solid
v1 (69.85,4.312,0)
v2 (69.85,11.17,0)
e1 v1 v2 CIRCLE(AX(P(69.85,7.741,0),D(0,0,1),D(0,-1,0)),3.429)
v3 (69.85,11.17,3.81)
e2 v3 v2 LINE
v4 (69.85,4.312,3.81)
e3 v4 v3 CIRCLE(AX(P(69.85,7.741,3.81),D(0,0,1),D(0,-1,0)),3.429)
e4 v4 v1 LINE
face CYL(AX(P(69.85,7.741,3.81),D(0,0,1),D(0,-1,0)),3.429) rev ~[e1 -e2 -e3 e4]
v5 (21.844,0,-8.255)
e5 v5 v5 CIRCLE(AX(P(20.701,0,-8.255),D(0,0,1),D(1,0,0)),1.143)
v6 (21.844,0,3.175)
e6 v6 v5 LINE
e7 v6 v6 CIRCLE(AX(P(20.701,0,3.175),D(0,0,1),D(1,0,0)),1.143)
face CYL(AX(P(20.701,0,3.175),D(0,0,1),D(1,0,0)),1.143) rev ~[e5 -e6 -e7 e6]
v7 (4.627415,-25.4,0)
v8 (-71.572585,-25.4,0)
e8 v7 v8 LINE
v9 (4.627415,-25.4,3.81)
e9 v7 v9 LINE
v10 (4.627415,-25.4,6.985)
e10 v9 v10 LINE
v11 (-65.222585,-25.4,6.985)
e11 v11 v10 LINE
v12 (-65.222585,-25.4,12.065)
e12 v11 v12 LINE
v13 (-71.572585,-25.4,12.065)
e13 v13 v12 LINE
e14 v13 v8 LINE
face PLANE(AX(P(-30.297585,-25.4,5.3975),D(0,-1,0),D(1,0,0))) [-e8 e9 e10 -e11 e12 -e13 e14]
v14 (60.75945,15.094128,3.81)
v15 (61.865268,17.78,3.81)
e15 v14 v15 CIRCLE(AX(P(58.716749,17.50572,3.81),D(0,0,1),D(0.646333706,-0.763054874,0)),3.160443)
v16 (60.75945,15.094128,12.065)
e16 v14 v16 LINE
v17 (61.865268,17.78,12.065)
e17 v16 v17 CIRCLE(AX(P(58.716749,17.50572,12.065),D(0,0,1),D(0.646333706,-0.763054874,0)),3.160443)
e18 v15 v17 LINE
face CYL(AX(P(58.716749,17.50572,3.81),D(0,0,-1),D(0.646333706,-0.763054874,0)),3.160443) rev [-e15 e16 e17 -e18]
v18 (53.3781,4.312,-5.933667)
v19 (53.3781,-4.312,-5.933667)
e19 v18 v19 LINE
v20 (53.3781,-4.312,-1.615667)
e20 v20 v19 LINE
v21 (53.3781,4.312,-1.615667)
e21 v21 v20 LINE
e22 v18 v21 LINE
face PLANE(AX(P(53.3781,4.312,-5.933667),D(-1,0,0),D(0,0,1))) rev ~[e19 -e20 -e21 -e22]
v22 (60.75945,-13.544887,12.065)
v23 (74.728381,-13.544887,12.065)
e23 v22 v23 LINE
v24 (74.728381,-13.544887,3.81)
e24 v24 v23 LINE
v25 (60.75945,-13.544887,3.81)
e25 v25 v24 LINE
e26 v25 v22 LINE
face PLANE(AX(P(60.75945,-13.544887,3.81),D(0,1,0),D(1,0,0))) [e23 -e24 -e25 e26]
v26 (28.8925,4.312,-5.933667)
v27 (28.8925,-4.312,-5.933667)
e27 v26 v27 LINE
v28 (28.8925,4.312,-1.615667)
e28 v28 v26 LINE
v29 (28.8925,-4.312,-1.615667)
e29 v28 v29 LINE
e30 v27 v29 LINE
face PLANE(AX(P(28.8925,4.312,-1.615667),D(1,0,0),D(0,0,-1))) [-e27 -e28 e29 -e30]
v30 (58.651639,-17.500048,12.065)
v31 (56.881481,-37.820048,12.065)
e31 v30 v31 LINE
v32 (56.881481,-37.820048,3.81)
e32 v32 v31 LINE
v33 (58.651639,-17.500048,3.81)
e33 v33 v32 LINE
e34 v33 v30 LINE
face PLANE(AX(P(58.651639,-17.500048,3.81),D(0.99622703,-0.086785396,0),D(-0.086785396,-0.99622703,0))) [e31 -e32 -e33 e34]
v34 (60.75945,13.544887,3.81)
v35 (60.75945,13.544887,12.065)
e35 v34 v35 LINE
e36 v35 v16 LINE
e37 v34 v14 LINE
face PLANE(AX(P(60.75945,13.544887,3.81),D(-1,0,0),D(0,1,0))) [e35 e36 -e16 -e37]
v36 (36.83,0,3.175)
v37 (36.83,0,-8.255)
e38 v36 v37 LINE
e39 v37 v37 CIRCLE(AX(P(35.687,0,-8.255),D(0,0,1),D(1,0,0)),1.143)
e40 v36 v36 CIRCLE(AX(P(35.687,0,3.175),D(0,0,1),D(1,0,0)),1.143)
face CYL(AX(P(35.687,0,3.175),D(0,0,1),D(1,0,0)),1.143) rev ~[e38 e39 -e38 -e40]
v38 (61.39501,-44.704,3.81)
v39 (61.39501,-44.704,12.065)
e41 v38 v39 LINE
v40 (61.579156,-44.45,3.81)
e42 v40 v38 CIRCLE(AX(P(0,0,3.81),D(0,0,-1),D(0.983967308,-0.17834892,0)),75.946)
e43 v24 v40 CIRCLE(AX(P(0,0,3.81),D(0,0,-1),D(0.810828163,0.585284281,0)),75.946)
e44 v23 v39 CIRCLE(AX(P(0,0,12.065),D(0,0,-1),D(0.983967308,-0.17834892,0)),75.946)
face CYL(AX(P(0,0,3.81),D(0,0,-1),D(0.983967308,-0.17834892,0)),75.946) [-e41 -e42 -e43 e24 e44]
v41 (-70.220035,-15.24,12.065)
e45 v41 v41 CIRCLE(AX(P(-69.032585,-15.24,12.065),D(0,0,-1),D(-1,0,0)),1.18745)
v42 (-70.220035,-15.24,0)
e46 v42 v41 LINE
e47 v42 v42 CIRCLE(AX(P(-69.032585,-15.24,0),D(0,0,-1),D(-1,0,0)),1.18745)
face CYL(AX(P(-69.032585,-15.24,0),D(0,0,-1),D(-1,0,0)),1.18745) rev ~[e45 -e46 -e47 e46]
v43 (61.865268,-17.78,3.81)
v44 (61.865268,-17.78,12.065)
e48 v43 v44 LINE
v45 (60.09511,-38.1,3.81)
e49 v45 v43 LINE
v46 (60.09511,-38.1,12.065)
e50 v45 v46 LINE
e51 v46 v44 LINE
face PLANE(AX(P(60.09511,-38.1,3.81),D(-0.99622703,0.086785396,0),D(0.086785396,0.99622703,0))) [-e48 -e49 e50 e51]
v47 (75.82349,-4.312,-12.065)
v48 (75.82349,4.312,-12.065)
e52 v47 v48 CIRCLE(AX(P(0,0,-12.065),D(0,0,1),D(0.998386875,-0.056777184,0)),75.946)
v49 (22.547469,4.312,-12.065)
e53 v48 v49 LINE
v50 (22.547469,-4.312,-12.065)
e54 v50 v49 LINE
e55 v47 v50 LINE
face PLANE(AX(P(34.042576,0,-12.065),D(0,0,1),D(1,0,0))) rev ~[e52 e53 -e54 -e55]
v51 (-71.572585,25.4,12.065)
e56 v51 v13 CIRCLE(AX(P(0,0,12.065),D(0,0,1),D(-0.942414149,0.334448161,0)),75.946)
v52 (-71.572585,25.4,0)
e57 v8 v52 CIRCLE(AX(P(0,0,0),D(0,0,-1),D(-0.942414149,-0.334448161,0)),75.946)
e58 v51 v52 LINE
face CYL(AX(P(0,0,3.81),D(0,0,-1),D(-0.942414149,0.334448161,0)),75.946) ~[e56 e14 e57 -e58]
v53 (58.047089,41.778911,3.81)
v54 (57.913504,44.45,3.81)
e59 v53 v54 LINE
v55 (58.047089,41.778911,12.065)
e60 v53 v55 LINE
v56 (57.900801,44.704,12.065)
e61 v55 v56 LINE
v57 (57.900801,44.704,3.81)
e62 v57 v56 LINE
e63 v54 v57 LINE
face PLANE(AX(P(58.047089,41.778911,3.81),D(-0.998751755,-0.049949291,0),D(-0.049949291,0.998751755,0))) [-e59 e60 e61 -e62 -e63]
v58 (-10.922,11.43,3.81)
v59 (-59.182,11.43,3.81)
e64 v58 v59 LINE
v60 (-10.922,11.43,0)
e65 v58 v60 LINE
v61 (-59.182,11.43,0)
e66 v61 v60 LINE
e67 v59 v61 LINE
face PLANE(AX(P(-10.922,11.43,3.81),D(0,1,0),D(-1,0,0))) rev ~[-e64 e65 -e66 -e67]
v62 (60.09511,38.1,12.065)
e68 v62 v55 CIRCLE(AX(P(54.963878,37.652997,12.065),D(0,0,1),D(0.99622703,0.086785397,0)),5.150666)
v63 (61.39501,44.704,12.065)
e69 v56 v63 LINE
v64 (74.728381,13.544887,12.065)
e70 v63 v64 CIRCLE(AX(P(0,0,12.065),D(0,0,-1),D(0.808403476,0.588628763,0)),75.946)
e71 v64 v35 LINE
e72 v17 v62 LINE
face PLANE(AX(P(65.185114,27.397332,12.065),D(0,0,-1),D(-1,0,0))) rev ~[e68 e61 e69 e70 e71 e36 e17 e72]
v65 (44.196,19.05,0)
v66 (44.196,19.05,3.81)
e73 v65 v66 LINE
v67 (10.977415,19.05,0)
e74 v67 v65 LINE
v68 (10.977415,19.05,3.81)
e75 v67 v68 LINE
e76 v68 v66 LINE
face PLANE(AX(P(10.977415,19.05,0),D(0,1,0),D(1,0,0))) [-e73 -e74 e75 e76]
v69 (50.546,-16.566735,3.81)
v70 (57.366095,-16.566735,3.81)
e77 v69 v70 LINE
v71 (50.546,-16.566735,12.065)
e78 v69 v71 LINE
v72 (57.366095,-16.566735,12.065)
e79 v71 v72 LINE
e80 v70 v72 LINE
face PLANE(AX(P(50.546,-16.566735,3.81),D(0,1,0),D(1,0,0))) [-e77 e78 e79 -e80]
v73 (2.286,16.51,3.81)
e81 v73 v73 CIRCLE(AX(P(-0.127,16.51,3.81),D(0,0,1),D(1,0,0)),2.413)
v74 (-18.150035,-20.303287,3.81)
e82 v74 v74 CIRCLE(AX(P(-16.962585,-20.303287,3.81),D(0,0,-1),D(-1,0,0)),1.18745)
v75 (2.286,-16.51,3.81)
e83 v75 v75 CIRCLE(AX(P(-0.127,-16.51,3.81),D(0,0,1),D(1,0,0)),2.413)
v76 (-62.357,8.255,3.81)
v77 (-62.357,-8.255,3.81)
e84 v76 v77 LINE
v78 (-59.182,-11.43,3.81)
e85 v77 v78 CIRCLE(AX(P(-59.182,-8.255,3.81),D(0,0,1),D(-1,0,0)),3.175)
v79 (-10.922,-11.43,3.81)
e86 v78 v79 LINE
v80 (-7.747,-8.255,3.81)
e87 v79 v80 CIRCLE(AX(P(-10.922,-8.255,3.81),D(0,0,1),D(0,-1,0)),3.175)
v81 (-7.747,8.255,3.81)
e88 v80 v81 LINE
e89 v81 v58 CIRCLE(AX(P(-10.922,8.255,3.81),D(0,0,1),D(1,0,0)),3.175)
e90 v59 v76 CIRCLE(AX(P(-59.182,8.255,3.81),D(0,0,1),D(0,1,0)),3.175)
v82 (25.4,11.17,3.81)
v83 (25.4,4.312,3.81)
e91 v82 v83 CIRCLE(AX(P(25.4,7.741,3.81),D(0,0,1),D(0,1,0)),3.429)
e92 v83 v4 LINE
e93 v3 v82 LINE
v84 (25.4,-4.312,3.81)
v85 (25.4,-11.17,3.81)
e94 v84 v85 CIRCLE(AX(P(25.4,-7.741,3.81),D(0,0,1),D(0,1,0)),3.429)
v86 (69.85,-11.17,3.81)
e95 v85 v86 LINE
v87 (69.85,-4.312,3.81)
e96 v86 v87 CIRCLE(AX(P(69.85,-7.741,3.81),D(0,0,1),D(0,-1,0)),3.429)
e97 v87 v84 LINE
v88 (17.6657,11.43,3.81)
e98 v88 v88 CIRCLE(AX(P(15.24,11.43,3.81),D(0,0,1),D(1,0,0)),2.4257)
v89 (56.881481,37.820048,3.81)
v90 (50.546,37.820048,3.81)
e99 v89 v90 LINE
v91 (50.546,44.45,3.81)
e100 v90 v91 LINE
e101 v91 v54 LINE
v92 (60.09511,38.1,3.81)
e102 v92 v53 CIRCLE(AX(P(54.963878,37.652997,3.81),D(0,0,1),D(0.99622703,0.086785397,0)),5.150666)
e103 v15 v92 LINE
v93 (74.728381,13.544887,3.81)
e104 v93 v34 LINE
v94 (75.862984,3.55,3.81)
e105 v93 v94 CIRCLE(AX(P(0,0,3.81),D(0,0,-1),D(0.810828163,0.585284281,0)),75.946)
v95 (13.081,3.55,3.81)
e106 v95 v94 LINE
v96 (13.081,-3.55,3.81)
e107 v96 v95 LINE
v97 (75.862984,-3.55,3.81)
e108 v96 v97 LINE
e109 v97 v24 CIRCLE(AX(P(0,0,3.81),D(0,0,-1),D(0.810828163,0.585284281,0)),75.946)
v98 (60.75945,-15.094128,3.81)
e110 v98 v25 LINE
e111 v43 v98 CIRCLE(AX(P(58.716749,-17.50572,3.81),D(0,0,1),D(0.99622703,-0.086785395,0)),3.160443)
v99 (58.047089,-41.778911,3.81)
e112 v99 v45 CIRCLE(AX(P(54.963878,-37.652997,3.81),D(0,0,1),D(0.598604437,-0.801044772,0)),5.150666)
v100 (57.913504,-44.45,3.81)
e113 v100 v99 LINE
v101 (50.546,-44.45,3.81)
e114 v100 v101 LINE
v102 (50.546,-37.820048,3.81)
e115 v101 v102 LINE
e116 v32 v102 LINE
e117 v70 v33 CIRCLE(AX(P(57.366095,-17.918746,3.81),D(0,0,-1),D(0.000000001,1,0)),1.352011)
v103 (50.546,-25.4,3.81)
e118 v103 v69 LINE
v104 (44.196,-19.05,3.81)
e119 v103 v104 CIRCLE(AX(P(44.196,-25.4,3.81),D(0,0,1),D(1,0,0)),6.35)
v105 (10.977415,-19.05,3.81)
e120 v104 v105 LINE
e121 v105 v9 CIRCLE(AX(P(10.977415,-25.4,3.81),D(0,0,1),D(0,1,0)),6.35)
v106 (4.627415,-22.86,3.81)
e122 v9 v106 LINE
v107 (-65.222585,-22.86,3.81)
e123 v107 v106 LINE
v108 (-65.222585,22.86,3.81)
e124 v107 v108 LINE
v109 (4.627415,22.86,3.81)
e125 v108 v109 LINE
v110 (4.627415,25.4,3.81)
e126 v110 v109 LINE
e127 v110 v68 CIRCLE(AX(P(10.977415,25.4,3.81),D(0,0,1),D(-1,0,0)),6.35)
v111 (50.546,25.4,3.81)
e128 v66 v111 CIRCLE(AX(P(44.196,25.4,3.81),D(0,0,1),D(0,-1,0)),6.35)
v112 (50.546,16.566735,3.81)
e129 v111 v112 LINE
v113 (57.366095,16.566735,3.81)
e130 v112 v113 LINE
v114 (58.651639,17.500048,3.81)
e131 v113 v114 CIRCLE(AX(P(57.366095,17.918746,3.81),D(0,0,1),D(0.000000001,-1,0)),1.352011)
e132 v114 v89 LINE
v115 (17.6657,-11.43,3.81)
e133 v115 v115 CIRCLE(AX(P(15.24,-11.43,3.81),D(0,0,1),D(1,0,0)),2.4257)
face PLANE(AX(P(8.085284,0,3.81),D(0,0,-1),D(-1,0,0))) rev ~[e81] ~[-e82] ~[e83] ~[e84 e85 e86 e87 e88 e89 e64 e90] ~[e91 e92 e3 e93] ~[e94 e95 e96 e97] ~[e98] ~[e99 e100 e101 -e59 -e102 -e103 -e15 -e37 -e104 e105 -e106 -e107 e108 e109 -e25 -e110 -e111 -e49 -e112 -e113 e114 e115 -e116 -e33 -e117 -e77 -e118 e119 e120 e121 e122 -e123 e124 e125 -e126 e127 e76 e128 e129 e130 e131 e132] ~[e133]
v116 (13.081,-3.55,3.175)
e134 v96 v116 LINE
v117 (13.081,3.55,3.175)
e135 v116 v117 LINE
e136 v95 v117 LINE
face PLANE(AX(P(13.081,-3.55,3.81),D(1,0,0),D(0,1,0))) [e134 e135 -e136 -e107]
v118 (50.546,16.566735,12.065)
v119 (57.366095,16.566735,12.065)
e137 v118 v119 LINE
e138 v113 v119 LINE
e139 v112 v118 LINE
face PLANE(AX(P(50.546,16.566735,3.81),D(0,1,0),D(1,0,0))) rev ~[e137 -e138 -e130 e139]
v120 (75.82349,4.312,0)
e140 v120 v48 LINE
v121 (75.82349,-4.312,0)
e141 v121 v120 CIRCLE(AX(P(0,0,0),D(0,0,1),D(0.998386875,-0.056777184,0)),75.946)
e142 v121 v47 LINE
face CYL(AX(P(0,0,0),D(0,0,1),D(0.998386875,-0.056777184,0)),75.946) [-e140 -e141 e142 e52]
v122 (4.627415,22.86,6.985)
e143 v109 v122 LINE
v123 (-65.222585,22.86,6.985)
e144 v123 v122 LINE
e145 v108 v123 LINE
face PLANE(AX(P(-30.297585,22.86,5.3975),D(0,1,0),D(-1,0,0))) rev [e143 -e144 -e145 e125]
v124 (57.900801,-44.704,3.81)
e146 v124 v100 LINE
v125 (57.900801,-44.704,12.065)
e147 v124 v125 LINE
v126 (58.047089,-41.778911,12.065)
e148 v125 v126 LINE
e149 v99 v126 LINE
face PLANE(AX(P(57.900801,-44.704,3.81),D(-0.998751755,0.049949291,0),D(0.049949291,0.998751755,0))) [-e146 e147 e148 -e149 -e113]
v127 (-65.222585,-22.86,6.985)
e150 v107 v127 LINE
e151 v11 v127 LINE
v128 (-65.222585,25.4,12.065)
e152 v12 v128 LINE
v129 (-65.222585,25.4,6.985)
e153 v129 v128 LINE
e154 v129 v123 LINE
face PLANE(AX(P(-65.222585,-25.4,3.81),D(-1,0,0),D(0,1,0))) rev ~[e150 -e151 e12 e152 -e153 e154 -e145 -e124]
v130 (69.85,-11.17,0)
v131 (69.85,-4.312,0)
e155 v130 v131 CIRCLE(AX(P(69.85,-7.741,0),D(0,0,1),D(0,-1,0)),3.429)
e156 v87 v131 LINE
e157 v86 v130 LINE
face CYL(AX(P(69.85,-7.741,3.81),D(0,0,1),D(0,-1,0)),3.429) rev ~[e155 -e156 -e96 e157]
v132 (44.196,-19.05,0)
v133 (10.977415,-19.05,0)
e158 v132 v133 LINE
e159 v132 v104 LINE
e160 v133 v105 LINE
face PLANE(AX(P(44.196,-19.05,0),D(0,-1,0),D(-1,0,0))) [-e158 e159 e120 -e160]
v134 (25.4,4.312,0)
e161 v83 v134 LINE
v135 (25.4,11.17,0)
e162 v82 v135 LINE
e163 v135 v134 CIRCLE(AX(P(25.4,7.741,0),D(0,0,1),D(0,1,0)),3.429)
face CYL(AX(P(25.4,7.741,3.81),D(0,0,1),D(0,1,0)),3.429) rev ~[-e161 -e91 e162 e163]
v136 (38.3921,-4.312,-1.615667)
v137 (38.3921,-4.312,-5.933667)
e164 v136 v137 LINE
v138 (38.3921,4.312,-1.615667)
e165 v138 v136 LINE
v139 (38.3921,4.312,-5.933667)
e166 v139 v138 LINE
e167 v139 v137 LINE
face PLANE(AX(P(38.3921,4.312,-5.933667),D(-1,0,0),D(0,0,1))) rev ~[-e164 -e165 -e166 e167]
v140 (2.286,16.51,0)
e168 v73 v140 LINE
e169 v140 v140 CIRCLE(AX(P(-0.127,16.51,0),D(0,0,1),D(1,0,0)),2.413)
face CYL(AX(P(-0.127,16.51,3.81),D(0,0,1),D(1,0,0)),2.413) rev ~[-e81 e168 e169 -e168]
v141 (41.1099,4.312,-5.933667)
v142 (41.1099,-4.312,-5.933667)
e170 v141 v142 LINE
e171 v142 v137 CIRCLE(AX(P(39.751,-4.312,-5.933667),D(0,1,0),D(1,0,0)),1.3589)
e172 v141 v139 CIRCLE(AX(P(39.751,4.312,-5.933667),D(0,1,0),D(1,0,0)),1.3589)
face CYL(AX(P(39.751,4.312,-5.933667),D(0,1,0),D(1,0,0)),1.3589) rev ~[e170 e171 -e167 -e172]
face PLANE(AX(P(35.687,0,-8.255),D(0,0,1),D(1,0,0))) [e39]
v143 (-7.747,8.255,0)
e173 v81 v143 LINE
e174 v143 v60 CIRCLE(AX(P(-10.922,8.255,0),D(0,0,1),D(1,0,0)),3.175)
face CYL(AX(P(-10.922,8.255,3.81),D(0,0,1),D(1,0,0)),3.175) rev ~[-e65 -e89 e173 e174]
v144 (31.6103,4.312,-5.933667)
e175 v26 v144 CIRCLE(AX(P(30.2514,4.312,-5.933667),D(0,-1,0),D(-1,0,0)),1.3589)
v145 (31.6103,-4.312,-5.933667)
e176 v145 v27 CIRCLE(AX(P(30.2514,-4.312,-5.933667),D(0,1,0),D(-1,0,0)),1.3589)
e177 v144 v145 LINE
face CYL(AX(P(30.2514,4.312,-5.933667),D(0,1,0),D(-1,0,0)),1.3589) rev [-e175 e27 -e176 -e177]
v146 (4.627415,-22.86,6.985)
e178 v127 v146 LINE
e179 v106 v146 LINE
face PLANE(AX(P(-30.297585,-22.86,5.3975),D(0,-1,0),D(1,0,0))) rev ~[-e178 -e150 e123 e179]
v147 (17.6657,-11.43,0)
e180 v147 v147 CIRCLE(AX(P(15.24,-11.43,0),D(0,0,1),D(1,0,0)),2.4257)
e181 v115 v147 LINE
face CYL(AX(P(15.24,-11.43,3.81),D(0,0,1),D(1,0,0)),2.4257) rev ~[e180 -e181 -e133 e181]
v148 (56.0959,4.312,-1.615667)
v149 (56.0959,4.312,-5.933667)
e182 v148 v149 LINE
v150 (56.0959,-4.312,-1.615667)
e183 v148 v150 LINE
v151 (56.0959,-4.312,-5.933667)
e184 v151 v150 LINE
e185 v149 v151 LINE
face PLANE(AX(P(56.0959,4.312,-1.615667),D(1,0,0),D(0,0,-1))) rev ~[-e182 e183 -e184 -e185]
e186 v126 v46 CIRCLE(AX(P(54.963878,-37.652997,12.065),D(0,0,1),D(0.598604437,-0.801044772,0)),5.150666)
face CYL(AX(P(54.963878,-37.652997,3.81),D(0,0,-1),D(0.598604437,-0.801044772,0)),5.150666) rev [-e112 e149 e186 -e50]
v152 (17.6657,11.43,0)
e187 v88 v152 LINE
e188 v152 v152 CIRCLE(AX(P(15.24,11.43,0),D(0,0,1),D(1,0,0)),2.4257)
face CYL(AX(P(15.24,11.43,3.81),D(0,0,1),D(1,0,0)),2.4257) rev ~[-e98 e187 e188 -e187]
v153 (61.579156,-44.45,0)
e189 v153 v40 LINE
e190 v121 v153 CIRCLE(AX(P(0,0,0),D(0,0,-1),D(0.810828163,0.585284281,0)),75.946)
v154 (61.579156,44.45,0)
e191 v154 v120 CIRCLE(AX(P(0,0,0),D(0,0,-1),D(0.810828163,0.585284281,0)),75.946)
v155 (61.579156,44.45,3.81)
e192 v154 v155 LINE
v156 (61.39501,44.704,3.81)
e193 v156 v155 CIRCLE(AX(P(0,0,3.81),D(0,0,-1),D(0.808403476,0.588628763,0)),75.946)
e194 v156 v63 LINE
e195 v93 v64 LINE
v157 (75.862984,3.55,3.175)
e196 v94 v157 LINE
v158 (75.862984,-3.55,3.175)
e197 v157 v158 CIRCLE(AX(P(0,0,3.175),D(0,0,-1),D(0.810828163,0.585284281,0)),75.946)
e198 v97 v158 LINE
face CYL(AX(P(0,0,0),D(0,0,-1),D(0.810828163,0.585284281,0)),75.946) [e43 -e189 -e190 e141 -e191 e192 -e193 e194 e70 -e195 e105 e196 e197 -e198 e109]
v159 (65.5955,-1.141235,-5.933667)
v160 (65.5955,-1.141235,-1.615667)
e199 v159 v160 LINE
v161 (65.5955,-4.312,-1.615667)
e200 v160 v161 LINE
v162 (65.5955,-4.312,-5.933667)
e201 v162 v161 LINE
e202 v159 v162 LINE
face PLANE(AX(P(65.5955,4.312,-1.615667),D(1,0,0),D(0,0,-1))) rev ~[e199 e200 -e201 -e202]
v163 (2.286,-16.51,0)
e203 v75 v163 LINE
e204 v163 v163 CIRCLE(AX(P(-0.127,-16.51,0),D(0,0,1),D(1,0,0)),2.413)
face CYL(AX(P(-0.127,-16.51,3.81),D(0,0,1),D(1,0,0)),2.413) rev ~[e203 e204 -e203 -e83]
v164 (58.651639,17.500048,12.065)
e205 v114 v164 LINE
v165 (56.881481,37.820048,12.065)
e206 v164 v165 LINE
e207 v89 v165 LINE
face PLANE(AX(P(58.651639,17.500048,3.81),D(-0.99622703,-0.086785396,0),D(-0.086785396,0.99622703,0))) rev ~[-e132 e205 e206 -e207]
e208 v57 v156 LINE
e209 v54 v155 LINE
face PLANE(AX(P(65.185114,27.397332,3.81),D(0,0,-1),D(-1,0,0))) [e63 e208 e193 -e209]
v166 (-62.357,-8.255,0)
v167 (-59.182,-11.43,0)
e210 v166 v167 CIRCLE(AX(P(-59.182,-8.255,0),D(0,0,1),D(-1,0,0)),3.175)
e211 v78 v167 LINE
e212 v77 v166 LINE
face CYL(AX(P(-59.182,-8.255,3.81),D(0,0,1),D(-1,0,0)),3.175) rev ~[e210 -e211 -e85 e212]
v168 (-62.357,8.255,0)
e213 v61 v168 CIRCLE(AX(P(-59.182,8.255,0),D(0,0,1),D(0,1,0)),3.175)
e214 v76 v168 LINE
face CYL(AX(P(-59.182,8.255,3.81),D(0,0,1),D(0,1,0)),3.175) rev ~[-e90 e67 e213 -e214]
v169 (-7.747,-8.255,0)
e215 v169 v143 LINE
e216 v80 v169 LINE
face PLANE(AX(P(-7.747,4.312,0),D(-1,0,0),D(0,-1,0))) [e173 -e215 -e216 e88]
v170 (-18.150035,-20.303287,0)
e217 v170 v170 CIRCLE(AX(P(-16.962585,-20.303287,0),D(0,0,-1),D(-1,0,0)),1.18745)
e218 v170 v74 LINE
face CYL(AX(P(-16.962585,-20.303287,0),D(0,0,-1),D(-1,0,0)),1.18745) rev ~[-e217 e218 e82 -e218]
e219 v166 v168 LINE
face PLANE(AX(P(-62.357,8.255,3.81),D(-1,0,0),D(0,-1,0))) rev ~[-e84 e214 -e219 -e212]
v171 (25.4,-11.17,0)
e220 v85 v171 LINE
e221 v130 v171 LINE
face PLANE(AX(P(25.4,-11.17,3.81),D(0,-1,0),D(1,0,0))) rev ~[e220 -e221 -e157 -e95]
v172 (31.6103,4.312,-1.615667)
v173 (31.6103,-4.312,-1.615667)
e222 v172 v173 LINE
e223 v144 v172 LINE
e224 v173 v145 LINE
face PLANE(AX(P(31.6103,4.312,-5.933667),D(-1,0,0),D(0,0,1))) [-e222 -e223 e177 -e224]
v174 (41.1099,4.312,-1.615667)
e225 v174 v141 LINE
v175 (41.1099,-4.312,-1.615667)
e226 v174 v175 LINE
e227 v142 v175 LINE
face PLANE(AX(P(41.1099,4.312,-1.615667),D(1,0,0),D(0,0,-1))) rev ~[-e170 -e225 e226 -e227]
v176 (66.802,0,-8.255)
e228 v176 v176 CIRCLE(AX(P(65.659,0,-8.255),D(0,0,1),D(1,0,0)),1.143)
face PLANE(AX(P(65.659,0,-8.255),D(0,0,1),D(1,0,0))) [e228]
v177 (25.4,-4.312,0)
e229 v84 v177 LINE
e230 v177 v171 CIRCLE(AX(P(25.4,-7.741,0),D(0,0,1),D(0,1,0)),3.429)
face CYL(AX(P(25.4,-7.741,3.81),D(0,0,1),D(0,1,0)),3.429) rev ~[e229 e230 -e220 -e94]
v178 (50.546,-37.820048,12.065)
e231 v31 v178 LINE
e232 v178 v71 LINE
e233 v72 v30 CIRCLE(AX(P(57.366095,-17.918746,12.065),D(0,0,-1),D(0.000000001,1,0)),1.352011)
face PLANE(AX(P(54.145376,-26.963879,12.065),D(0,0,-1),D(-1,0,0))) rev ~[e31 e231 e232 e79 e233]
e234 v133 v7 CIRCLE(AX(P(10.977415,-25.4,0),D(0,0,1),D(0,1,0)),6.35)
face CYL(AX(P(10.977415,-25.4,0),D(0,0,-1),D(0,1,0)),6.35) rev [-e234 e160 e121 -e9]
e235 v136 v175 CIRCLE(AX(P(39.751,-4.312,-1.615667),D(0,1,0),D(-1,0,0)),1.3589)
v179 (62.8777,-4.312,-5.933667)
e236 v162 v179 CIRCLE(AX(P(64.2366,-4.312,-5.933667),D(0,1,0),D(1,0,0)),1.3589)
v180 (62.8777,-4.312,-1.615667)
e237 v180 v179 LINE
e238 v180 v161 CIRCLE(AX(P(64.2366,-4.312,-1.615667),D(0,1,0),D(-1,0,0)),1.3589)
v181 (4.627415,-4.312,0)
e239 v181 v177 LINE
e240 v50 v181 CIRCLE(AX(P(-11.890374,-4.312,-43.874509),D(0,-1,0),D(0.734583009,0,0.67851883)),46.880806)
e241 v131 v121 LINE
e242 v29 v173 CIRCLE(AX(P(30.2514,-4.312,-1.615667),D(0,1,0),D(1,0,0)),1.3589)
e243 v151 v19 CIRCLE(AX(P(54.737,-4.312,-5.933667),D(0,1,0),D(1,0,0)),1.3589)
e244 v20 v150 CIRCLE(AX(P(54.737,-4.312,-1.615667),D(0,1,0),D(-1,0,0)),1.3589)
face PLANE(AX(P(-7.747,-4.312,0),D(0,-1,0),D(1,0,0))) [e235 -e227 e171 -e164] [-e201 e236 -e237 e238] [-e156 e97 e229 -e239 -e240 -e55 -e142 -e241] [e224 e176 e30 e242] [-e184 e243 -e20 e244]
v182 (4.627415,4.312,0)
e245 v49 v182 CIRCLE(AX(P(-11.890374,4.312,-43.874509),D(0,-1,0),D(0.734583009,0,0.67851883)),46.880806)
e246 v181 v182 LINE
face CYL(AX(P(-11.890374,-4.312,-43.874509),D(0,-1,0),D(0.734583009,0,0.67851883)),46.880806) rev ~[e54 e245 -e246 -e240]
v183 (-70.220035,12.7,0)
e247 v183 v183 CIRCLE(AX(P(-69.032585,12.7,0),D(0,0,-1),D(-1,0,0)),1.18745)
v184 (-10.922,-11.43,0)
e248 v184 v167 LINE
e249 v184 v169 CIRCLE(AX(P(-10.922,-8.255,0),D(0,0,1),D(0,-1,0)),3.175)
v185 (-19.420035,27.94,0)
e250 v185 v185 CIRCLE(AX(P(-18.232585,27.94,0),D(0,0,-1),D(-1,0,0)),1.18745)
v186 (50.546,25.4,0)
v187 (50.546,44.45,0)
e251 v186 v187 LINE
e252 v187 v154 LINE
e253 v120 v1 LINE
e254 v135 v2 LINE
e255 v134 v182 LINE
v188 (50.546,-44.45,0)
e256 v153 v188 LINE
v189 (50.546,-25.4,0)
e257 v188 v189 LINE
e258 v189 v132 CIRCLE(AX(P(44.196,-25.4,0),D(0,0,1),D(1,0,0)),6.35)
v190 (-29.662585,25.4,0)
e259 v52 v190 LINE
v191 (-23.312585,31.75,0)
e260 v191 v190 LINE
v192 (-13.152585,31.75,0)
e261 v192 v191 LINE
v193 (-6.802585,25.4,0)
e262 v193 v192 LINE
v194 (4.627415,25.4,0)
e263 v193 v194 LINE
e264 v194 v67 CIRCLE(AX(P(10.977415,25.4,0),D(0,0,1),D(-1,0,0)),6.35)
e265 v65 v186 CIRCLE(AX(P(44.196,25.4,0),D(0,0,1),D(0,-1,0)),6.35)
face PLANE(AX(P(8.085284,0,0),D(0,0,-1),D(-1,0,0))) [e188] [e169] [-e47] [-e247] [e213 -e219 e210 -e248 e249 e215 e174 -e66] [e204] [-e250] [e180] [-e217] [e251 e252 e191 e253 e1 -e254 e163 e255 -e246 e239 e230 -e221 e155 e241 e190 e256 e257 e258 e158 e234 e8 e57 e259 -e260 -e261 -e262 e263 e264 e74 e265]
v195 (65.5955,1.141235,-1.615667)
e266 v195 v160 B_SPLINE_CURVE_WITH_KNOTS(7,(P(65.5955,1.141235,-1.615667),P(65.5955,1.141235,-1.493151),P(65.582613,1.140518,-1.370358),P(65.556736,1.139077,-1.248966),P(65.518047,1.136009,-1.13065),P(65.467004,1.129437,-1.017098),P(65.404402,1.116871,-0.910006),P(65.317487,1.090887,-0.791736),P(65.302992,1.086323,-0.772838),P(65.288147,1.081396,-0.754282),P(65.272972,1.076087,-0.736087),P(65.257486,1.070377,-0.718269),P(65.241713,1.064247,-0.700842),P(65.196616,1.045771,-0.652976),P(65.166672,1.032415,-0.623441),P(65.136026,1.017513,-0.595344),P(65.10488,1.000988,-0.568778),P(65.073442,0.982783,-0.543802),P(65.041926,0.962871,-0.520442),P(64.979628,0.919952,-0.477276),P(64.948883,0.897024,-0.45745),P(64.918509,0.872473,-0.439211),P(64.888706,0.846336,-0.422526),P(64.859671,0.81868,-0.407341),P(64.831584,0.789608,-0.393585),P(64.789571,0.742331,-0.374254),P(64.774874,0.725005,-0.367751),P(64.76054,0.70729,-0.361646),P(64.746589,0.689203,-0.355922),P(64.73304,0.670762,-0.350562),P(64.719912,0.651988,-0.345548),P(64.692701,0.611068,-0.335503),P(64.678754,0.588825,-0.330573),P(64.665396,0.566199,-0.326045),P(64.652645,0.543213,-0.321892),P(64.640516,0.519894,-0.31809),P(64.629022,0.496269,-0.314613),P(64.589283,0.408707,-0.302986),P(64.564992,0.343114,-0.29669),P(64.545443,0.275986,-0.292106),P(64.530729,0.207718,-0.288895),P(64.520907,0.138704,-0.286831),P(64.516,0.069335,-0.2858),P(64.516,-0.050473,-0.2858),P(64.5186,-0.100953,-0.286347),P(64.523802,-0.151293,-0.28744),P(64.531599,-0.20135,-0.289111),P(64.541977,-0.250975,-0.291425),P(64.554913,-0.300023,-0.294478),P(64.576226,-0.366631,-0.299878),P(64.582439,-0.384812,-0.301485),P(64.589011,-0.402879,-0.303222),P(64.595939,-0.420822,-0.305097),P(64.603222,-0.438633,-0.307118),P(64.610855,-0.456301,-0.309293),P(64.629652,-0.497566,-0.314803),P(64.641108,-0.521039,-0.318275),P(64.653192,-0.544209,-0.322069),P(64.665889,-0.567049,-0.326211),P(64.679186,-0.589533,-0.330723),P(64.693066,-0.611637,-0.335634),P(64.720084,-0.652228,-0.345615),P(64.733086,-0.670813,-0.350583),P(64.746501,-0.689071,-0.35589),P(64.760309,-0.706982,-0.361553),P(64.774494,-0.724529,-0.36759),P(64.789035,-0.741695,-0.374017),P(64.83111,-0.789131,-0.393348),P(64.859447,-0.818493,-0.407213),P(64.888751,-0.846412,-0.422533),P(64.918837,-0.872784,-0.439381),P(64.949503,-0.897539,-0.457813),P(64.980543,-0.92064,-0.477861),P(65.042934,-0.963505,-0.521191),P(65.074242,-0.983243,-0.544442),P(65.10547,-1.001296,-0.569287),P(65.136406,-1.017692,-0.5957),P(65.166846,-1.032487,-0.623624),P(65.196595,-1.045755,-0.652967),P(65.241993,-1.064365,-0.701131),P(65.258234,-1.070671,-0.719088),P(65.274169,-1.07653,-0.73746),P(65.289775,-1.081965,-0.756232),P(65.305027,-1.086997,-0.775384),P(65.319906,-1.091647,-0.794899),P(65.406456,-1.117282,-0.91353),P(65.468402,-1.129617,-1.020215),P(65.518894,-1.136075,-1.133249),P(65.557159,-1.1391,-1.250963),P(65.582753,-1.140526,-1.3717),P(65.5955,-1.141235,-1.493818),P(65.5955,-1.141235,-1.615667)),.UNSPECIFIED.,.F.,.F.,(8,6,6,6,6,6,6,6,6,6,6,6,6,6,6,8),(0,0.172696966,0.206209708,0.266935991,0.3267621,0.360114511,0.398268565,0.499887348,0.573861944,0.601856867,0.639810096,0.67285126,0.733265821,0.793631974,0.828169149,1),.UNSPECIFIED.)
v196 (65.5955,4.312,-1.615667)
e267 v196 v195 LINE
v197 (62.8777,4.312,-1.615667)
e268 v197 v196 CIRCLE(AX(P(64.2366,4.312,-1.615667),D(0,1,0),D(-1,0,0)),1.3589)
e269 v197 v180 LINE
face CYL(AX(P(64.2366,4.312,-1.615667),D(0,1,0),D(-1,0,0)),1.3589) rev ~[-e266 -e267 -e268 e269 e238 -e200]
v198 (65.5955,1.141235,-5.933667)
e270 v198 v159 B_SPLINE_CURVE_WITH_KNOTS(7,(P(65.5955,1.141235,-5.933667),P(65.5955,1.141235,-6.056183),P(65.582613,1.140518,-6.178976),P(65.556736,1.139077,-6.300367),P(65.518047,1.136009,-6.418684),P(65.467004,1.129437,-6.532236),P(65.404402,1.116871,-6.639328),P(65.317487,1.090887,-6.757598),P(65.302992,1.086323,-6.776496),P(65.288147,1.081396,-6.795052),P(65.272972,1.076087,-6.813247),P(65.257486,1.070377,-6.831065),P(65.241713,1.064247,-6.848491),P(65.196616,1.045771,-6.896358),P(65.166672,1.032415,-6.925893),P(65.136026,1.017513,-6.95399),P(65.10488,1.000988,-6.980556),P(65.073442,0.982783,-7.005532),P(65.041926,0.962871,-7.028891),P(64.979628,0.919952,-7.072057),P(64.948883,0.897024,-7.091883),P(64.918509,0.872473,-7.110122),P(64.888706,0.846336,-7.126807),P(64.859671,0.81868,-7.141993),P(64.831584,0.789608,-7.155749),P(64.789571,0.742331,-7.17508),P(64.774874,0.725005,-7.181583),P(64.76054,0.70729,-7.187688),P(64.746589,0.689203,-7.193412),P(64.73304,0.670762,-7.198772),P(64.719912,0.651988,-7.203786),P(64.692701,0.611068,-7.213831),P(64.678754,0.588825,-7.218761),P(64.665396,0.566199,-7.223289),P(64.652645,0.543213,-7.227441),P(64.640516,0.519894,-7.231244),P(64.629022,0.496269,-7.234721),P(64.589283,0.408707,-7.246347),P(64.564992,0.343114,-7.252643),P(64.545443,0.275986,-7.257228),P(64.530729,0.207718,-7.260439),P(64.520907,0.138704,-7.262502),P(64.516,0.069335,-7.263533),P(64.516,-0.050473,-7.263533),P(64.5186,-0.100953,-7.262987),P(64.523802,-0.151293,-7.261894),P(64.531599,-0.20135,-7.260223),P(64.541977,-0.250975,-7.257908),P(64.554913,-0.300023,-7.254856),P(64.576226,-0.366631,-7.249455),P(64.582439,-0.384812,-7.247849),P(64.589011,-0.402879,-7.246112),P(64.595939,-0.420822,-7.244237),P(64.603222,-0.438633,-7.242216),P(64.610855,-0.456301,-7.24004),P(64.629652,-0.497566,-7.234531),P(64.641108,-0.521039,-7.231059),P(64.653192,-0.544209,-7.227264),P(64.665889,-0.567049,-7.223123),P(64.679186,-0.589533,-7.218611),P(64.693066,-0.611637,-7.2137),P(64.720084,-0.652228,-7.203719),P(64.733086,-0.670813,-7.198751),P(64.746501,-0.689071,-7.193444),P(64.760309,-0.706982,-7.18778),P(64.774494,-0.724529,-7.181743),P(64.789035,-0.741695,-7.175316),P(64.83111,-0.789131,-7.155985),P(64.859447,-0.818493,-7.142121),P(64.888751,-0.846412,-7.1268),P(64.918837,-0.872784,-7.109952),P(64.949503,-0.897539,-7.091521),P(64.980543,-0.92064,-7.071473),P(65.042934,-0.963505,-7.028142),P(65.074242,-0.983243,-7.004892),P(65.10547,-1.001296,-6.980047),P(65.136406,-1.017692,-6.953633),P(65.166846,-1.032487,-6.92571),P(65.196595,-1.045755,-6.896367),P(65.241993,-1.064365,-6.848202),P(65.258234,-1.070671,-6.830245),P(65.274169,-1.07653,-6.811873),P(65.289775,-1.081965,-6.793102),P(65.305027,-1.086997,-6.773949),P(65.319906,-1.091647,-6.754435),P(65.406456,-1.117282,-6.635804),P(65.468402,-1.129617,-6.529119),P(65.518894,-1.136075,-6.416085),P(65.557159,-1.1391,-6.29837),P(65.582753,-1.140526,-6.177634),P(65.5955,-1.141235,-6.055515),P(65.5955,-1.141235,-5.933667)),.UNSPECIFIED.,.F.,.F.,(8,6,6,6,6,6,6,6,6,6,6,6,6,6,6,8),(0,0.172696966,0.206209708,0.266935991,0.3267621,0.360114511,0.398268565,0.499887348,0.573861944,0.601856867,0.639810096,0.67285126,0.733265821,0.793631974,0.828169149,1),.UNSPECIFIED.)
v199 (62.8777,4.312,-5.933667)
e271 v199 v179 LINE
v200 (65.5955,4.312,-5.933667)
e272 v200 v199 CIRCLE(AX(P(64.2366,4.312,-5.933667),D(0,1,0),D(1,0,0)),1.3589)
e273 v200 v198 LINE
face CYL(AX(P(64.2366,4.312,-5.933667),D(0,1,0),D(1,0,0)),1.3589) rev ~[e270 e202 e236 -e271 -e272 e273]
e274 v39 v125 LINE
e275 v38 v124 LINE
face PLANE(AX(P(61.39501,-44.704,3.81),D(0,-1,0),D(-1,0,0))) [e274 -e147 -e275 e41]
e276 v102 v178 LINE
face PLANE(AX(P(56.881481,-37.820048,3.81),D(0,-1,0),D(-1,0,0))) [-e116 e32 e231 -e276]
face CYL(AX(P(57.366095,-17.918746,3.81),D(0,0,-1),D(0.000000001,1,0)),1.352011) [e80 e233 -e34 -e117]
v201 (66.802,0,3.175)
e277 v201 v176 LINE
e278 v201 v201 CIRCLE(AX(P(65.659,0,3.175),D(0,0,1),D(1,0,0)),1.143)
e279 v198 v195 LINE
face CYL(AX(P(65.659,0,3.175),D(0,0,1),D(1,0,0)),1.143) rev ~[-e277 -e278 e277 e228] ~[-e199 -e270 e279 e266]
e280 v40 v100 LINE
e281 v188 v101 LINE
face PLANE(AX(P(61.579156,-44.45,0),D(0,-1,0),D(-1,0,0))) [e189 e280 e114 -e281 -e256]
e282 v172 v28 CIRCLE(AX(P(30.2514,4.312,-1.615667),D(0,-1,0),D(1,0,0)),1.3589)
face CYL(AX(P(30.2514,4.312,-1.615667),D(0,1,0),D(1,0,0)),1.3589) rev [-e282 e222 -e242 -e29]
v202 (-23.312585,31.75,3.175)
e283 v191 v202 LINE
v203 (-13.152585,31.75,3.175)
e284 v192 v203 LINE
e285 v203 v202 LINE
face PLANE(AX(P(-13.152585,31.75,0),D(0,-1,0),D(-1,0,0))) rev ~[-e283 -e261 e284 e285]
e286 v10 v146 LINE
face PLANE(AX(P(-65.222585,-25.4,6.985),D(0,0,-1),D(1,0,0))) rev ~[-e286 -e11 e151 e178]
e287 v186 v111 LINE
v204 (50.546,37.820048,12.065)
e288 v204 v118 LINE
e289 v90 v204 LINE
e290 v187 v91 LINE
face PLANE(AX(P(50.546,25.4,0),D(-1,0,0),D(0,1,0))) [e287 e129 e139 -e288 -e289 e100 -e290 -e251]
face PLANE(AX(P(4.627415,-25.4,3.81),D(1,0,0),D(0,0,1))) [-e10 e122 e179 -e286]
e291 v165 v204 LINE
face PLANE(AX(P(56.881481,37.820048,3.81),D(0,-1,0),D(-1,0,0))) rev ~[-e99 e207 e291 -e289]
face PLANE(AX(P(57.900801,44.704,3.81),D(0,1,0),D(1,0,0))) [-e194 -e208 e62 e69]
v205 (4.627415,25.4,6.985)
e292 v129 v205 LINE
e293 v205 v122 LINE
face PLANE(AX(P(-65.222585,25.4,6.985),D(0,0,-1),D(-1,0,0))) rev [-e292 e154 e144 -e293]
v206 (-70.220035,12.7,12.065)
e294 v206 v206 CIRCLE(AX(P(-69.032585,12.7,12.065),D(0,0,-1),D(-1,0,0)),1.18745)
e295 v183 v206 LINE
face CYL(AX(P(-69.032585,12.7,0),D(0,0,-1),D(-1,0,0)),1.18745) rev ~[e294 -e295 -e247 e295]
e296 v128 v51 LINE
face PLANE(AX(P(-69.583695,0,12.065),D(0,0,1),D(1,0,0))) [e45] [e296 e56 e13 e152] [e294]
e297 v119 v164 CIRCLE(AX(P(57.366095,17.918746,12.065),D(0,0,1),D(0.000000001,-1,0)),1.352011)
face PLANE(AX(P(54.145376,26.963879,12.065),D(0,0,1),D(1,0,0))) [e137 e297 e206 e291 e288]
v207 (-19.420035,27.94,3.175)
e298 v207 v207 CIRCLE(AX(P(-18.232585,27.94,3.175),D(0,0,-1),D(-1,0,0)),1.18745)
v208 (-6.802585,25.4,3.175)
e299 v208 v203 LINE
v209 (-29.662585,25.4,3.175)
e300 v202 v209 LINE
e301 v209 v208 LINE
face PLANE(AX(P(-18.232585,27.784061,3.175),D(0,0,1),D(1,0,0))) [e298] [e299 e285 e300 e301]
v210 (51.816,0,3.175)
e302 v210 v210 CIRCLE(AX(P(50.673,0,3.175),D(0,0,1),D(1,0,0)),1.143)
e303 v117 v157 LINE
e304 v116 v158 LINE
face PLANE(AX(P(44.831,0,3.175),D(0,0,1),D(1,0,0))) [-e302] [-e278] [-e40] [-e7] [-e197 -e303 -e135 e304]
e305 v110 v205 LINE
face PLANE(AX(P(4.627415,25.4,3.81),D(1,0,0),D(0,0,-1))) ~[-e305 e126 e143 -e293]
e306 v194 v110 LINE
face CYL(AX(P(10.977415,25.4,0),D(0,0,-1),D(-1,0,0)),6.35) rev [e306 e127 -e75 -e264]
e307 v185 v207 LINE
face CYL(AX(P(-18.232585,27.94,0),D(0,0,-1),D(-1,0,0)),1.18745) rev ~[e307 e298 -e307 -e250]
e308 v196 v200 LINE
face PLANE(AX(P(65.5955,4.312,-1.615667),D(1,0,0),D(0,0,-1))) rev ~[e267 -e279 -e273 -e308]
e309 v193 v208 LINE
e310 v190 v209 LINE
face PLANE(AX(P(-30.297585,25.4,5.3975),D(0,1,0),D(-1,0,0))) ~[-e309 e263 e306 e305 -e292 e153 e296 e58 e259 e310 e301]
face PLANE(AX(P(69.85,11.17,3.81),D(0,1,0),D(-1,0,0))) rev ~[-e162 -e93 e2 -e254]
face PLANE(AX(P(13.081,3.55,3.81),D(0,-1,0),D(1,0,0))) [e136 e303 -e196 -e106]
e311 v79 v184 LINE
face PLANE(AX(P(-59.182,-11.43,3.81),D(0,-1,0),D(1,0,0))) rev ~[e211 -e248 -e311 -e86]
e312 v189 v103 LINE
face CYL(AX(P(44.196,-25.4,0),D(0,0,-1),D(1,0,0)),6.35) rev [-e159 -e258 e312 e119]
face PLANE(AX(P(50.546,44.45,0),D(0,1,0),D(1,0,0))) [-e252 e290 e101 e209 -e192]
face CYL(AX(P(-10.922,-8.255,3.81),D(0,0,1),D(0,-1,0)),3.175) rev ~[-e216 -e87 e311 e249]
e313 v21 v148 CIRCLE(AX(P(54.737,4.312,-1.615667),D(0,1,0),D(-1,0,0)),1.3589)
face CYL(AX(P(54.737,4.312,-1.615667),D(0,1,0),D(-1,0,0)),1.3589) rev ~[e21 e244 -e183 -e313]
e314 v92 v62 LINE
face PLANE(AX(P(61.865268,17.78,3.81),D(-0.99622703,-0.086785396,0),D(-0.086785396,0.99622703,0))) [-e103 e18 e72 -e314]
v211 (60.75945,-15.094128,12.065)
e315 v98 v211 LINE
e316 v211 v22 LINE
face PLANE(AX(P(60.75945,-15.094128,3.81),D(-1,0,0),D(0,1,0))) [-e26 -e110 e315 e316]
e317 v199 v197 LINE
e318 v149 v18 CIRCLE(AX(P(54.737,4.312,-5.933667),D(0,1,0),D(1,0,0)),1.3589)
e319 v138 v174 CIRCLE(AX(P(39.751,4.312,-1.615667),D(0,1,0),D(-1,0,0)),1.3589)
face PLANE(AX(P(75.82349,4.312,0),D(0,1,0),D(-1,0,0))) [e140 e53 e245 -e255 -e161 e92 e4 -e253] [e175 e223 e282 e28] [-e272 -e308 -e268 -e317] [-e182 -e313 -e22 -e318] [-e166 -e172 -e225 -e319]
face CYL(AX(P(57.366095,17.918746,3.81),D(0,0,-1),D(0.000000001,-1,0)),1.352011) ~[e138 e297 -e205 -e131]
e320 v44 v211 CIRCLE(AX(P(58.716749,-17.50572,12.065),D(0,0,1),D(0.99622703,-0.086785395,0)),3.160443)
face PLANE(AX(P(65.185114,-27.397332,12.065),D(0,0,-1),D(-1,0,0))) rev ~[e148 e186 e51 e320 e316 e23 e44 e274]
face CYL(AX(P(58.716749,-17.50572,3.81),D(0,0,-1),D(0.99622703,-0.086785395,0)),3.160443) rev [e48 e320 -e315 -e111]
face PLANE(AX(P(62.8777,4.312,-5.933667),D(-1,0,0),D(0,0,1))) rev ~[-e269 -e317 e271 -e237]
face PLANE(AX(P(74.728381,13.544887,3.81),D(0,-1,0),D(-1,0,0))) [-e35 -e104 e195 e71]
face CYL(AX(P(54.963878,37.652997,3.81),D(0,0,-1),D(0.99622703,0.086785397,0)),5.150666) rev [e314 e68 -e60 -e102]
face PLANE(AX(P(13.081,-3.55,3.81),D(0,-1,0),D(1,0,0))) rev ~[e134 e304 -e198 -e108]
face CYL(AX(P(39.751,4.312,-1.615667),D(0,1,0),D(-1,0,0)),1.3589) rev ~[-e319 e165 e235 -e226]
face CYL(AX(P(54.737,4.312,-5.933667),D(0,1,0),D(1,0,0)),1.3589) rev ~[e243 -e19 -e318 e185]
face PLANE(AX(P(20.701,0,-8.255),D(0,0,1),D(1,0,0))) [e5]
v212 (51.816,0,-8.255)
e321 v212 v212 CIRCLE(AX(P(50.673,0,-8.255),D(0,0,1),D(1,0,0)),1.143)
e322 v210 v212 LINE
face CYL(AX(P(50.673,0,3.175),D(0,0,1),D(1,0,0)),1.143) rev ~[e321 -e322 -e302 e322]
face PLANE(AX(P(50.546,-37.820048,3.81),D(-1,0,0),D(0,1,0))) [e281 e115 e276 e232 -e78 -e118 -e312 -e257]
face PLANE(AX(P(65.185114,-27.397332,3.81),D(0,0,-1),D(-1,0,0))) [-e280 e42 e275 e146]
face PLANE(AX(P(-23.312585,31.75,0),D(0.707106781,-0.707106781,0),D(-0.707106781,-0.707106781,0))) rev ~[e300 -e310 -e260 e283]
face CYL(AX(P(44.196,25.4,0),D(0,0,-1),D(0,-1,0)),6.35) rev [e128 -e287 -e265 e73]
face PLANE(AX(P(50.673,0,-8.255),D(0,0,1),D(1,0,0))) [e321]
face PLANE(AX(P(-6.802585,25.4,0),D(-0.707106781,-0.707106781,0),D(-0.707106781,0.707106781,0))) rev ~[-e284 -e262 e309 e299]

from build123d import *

# Parameters (mm, degrees)
BOSS_EXTRUDE1_DEPTH     = 3.81
BOSS_EXTRUDE2_DEPTH     = 8.255
SKETCH3_W               = 63.5
SKETCH3_H               = 7.1
CUT_EXTRUDE1_DEPTH      = 0.635
CUT_EXTRUDE4_DEPTH      = 4.81
CUT_EXTRUDE5_DEPTH      = 4.81
SKETCH12_R              = 2.4257
CUT_EXTRUDE6_DEPTH      = 4.81
BOSS_EXTRUDE3_DEPTH     = 12.065
SKETCH4_R               = 1.143
CUT_EXTRUDE2_DEPTH      = 11.43
CUT_EXTRUDE7_DEPTH      = 50.016
CUT_EXTRUDE8_DEPTH      = 41.392
CUT_EXTRUDE8_DEPTH_BACK = 50.016
SKETCH17_R              = 2.413
CUT_EXTRUDE9_DEPTH      = 16.875
BOSS_EXTRUDE5_DEPTH     = 8.255
SKETCH20_W              = 69.85
SKETCH20_H              = 3.175
BOSS_EXTRUDE6_DEPTH     = 2.54
BOSS_EXTRUDE7_DEPTH     = 3.175
SKETCH22_R              = 1.18745
CUT_EXTRUDE10_DEPTH     = 13.065


with BuildPart() as part:
    # Sketch1 → Boss-Extrude1 (new body)
    with BuildSketch(Plane.XY):
        with BuildLine():
            Line((10.977415053, 19.05), (44.196, 19.05))
            ThreePointArc((44.196, 19.05), (48.686128061, 20.909871939), (50.546, 25.4))
            Line((50.546, 25.4), (50.546, 44.45))
            Line((50.546, 44.45), (61.579155694, 44.45))
            ThreePointArc((61.579155694, 44.45), (75.946, 0), (61.579155694, -44.45))
            Line((61.579155694, -44.45), (50.546, -44.45))
            Line((50.546, -44.45), (50.546, -25.4))
            ThreePointArc((50.546, -25.4), (48.686128061, -20.909871939), (44.196, -19.05))
            Line((44.196, -19.05), (10.977415053, -19.05))
            ThreePointArc((10.977415053, -19.05), (6.487286992, -20.909871939), (4.627415053, -25.4))
            Line((4.627415053, -25.4), (-71.572584947, -25.4))
            ThreePointArc((-71.572584947, -25.4), (-75.946, 0), (-71.572584947, 25.4))
            Line((-71.572584947, 25.4), (4.627415053, 25.4))
            ThreePointArc((4.627415053, 25.4), (6.487286992, 20.909871939), (10.977415053, 19.05))
        make_face()
    extrude(amount=BOSS_EXTRUDE1_DEPTH)

    # Sketch2 → Boss-Extrude2 (add)
    with BuildSketch(Plane.XY.offset(3.81)):
        with BuildLine():
            Line((61.865268471, 17.78), (60.095110466, 38.1))
            ThreePointArc((60.095110466, 38.1), (59.464196764, 40.158289632), (58.047089349, 41.778911391))
            Line((58.047089349, 41.778911391), (57.900800643, 44.704))
            Line((57.900800643, 44.704), (61.395010384, 44.704))
            ThreePointArc((61.395010384, 44.704), (69.822038137, 29.877715884), (74.728381149, 13.544887112))
            Line((74.728381149, 13.544887112), (60.759450402, 13.544887112))
            Line((60.759450402, 13.544887112), (60.759450402, 15.094127876))
            ThreePointArc((60.759450402, 15.094127876), (61.639191639, 16.302501703), (61.865268471, 17.78))
        make_face()
        with BuildLine():
            Line((58.651639318, 17.500047669), (56.881481313, 37.820047669))
            Line((56.881481313, 37.820047669), (50.546, 37.820047669))
            Line((50.546, 37.820047669), (50.546, 16.566735288))
            Line((50.546, 16.566735288), (57.366094516, 16.566735288))
            ThreePointArc((57.366094516, 16.566735288), (58.160401987, 16.824667019), (58.651639318, 17.500047669))
        make_face()
        with BuildLine():
            Line((60.759450402, -13.544887112), (74.728381149, -13.544887112))
            ThreePointArc((74.728381149, -13.544887112), (69.822038137, -29.877715884), (61.395010384, -44.704))
            Line((61.395010384, -44.704), (57.900800643, -44.704))
            Line((57.900800643, -44.704), (58.047089349, -41.778911391))
            ThreePointArc((58.047089349, -41.778911391), (59.464196764, -40.158289632), (60.095110466, -38.1))
            Line((60.095110466, -38.1), (61.865268471, -17.78))
            ThreePointArc((61.865268471, -17.78), (61.639191639, -16.302501703), (60.759450402, -15.094127876))
            Line((60.759450402, -15.094127876), (60.759450402, -13.544887112))
        make_face()
        with BuildLine():
            Line((50.546, -16.566735288), (57.366094516, -16.566735288))
            ThreePointArc((57.366094516, -16.566735288), (58.160401987, -16.824667019), (58.651639318, -17.500047669))
            Line((58.651639318, -17.500047669), (56.881481313, -37.820047669))
            Line((56.881481313, -37.820047669), (50.546, -37.820047669))
            Line((50.546, -37.820047669), (50.546, -16.566735288))
        make_face()
    extrude(amount=BOSS_EXTRUDE2_DEPTH)

    # Sketch3 → Cut-Extrude1 (cut)
    with BuildSketch(Plane.XY.offset(3.81)):
        with Locations((44.831, 0)):
            Rectangle(SKETCH3_W, SKETCH3_H)
    extrude(amount=-CUT_EXTRUDE1_DEPTH, mode=Mode.SUBTRACT)

    # Sketch9 → Cut-Extrude4 (cut, through all)
    with BuildSketch(Plane.XY.offset(3.81)):
        with BuildLine():
            Line((69.85, 11.17), (25.4, 11.17))
            ThreePointArc((25.4, 11.17), (21.971, 7.741), (25.4, 4.312))
            Line((25.4, 4.312), (69.85, 4.312))
            ThreePointArc((69.85, 4.312), (73.279, 7.741), (69.85, 11.17))
        make_face()
        with BuildLine():
            Line((69.85, -4.312), (25.4, -4.312))
            ThreePointArc((25.4, -4.312), (21.971, -7.741), (25.4, -11.17))
            Line((25.4, -11.17), (69.85, -11.17))
            ThreePointArc((69.85, -11.17), (73.279, -7.741), (69.85, -4.312))
        make_face()
    extrude(amount=-CUT_EXTRUDE4_DEPTH, mode=Mode.SUBTRACT)

    # Sketch10 → Cut-Extrude5 (cut, through all)
    with BuildSketch(Plane.XY.offset(3.81)):
        with BuildLine():
            Line((-10.922, 11.43), (-59.182, 11.43))
            ThreePointArc((-59.182, 11.43), (-61.42706403, 10.50006403), (-62.357, 8.255))
            Line((-62.357, 8.255), (-62.357, -8.255))
            ThreePointArc((-62.357, -8.255), (-61.42706403, -10.50006403), (-59.182, -11.43))
            Line((-59.182, -11.43), (-10.922, -11.43))
            ThreePointArc((-10.922, -11.43), (-8.67693597, -10.50006403), (-7.747, -8.255))
            Line((-7.747, -8.255), (-7.747, 8.255))
            ThreePointArc((-7.747, 8.255), (-8.67693597, 10.50006403), (-10.922, 11.43))
        make_face()
    extrude(amount=-CUT_EXTRUDE5_DEPTH, mode=Mode.SUBTRACT)

    # Sketch12 → Cut-Extrude6 (cut, through all)
    with BuildSketch(Plane.XY.offset(3.81)):
        with Locations((15.24, 11.43)):
            Circle(SKETCH12_R)
        with Locations((15.24, -11.43)):
            Circle(SKETCH12_R)
    extrude(amount=-CUT_EXTRUDE6_DEPTH, mode=Mode.SUBTRACT)

    # Sketch14 → Boss-Extrude3 (add)
    with BuildSketch(Plane(origin=(0, 0, 0), x_dir=(-1, 0, 0), z_dir=(0, 0, -1))):
        with BuildLine():
            Line((-75.823489579, 4.312), (7.747, 4.312))
            Line((7.747, 4.312), (7.747, -4.312))
            Line((7.747, -4.312), (-75.823489579, -4.312))
            ThreePointArc((-75.823489579, -4.312), (-75.946, 0), (-75.823489579, 4.312))
        make_face()
    extrude(amount=BOSS_EXTRUDE3_DEPTH)

    # Sketch4 → Cut-Extrude2 (cut)
    with BuildSketch(Plane.XY.offset(3.175)):
        with Locations((20.701, 0)):
            Circle(SKETCH4_R)
        with Locations((35.687, 0)):
            Circle(SKETCH4_R)
        with Locations((50.673, 0)):
            Circle(SKETCH4_R)
        with Locations((65.659, 0)):
            Circle(SKETCH4_R)
    extrude(amount=-CUT_EXTRUDE2_DEPTH, mode=Mode.SUBTRACT)

    # Sketch15 → Cut-Extrude7 (cut, through all)
    with BuildSketch(Plane(origin=(0, 4.312, 0), x_dir=(1, 0, 0), z_dir=(0, 1, 0))):
        with BuildLine():
            Line((28.8925, 1.615666853), (28.8925, 5.933666853))
            ThreePointArc((28.8925, 5.933666853), (30.2514, 7.292566853), (31.6103, 5.933666853))
            Line((31.6103, 5.933666853), (31.6103, 1.615666853))
            ThreePointArc((31.6103, 1.615666853), (30.2514, 0.256766853), (28.8925, 1.615666853))
        make_face()
        with BuildLine():
            Line((41.1099, 1.615666853), (41.1099, 5.933666853))
            ThreePointArc((41.1099, 5.933666853), (39.751, 7.292566853), (38.3921, 5.933666853))
            Line((38.3921, 5.933666853), (38.3921, 1.615666853))
            ThreePointArc((38.3921, 1.615666853), (39.751, 0.256766853), (41.1099, 1.615666853))
        make_face()
        with BuildLine():
            Line((65.5955, 1.615666853), (65.5955, 5.933666853))
            ThreePointArc((65.5955, 5.933666853), (64.2366, 7.292566853), (62.8777, 5.933666853))
            Line((62.8777, 5.933666853), (62.8777, 1.615666853))
            ThreePointArc((62.8777, 1.615666853), (64.2366, 0.256766853), (65.5955, 1.615666853))
        make_face()
        with BuildLine():
            Line((56.0959, 1.615666853), (56.0959, 5.933666853))
            ThreePointArc((56.0959, 5.933666853), (54.737, 7.292566853), (53.3781, 5.933666853))
            Line((53.3781, 5.933666853), (53.3781, 1.615666853))
            ThreePointArc((53.3781, 1.615666853), (54.737, 0.256766853), (56.0959, 1.615666853))
        make_face()
    extrude(amount=-CUT_EXTRUDE7_DEPTH, mode=Mode.SUBTRACT)

    # Sketch16 → Cut-Extrude8 (cut, two sides)
    with BuildSketch(Plane.XZ.offset(4.312)) as cut_extrude8_sk:
        with BuildLine():
            Line((4.627415053, 0), (-7.747, 0))
            Line((-7.747, 0), (-7.747, -12.065))
            Line((-7.747, -12.065), (0, -12.065))
            Line((0, -12.065), (22.547469063, -12.065))
            ThreePointArc((22.547469063, -12.065), (14.291875083, -4.986210911), (4.627415053, 0))
        make_face()
    extrude(amount=CUT_EXTRUDE8_DEPTH, mode=Mode.SUBTRACT)
    extrude(cut_extrude8_sk.sketch, amount=-CUT_EXTRUDE8_DEPTH_BACK, mode=Mode.SUBTRACT)

    # Sketch17 → Cut-Extrude9 (cut, through all)
    with BuildSketch(Plane.XY.offset(3.81)):
        with Locations((-0.127, 16.51)):
            Circle(SKETCH17_R)
        with Locations((-0.127, -16.51)):
            Circle(SKETCH17_R)
    extrude(amount=-CUT_EXTRUDE9_DEPTH, mode=Mode.SUBTRACT)

    # Sketch19 → Boss-Extrude5 (add)
    with BuildSketch(Plane.XY.offset(3.81)):
        with BuildLine():
            Line((-71.572584947, -25.4), (-65.222584947, -25.4))
            Line((-65.222584947, -25.4), (-65.222584947, 25.4))
            Line((-65.222584947, 25.4), (-71.572584947, 25.4))
            ThreePointArc((-71.572584947, 25.4), (-75.946, 0), (-71.572584947, -25.4))
        make_face()
    extrude(amount=BOSS_EXTRUDE5_DEPTH)

    # Sketch20 → Boss-Extrude6 (add)
    with BuildSketch(Plane.XZ.offset(25.4)):
        with Locations((-30.297584947, 5.3975)):
            Rectangle(SKETCH20_W, SKETCH20_H)
    boss_extrude6 = extrude(amount=-BOSS_EXTRUDE6_DEPTH)

    # Mirror1: Boss-Extrude6 across plane
    add(boss_extrude6.mirror(Plane.ZX))

    # Sketch21 → Boss-Extrude7 (add)
    with BuildSketch(Plane(origin=(0, 0, 0), x_dir=(-1, 0, 0), z_dir=(0, 0, -1))):
        Polygon((6.802584947, 25.4), (13.152584947, 31.75), (23.312584947, 31.75), (29.662584947, 25.4), align=None)
    extrude(amount=-BOSS_EXTRUDE7_DEPTH)

    # Sketch22 → Cut-Extrude10 (cut, through all)
    with BuildSketch(Plane(origin=(0, 0, 0), x_dir=(-1, 0, 0), z_dir=(0, 0, -1))):
        with Locations((18.232584947, 27.94)):
            Circle(SKETCH22_R)
        with Locations((16.962584947, -20.30328658)):
            Circle(SKETCH22_R)
        with Locations((69.032584947, 12.7)):
            Circle(SKETCH22_R)
        with Locations((69.032584947, -15.24)):
            Circle(SKETCH22_R)
    extrude(amount=-CUT_EXTRUDE10_DEPTH, mode=Mode.SUBTRACT)


solid = part.part
